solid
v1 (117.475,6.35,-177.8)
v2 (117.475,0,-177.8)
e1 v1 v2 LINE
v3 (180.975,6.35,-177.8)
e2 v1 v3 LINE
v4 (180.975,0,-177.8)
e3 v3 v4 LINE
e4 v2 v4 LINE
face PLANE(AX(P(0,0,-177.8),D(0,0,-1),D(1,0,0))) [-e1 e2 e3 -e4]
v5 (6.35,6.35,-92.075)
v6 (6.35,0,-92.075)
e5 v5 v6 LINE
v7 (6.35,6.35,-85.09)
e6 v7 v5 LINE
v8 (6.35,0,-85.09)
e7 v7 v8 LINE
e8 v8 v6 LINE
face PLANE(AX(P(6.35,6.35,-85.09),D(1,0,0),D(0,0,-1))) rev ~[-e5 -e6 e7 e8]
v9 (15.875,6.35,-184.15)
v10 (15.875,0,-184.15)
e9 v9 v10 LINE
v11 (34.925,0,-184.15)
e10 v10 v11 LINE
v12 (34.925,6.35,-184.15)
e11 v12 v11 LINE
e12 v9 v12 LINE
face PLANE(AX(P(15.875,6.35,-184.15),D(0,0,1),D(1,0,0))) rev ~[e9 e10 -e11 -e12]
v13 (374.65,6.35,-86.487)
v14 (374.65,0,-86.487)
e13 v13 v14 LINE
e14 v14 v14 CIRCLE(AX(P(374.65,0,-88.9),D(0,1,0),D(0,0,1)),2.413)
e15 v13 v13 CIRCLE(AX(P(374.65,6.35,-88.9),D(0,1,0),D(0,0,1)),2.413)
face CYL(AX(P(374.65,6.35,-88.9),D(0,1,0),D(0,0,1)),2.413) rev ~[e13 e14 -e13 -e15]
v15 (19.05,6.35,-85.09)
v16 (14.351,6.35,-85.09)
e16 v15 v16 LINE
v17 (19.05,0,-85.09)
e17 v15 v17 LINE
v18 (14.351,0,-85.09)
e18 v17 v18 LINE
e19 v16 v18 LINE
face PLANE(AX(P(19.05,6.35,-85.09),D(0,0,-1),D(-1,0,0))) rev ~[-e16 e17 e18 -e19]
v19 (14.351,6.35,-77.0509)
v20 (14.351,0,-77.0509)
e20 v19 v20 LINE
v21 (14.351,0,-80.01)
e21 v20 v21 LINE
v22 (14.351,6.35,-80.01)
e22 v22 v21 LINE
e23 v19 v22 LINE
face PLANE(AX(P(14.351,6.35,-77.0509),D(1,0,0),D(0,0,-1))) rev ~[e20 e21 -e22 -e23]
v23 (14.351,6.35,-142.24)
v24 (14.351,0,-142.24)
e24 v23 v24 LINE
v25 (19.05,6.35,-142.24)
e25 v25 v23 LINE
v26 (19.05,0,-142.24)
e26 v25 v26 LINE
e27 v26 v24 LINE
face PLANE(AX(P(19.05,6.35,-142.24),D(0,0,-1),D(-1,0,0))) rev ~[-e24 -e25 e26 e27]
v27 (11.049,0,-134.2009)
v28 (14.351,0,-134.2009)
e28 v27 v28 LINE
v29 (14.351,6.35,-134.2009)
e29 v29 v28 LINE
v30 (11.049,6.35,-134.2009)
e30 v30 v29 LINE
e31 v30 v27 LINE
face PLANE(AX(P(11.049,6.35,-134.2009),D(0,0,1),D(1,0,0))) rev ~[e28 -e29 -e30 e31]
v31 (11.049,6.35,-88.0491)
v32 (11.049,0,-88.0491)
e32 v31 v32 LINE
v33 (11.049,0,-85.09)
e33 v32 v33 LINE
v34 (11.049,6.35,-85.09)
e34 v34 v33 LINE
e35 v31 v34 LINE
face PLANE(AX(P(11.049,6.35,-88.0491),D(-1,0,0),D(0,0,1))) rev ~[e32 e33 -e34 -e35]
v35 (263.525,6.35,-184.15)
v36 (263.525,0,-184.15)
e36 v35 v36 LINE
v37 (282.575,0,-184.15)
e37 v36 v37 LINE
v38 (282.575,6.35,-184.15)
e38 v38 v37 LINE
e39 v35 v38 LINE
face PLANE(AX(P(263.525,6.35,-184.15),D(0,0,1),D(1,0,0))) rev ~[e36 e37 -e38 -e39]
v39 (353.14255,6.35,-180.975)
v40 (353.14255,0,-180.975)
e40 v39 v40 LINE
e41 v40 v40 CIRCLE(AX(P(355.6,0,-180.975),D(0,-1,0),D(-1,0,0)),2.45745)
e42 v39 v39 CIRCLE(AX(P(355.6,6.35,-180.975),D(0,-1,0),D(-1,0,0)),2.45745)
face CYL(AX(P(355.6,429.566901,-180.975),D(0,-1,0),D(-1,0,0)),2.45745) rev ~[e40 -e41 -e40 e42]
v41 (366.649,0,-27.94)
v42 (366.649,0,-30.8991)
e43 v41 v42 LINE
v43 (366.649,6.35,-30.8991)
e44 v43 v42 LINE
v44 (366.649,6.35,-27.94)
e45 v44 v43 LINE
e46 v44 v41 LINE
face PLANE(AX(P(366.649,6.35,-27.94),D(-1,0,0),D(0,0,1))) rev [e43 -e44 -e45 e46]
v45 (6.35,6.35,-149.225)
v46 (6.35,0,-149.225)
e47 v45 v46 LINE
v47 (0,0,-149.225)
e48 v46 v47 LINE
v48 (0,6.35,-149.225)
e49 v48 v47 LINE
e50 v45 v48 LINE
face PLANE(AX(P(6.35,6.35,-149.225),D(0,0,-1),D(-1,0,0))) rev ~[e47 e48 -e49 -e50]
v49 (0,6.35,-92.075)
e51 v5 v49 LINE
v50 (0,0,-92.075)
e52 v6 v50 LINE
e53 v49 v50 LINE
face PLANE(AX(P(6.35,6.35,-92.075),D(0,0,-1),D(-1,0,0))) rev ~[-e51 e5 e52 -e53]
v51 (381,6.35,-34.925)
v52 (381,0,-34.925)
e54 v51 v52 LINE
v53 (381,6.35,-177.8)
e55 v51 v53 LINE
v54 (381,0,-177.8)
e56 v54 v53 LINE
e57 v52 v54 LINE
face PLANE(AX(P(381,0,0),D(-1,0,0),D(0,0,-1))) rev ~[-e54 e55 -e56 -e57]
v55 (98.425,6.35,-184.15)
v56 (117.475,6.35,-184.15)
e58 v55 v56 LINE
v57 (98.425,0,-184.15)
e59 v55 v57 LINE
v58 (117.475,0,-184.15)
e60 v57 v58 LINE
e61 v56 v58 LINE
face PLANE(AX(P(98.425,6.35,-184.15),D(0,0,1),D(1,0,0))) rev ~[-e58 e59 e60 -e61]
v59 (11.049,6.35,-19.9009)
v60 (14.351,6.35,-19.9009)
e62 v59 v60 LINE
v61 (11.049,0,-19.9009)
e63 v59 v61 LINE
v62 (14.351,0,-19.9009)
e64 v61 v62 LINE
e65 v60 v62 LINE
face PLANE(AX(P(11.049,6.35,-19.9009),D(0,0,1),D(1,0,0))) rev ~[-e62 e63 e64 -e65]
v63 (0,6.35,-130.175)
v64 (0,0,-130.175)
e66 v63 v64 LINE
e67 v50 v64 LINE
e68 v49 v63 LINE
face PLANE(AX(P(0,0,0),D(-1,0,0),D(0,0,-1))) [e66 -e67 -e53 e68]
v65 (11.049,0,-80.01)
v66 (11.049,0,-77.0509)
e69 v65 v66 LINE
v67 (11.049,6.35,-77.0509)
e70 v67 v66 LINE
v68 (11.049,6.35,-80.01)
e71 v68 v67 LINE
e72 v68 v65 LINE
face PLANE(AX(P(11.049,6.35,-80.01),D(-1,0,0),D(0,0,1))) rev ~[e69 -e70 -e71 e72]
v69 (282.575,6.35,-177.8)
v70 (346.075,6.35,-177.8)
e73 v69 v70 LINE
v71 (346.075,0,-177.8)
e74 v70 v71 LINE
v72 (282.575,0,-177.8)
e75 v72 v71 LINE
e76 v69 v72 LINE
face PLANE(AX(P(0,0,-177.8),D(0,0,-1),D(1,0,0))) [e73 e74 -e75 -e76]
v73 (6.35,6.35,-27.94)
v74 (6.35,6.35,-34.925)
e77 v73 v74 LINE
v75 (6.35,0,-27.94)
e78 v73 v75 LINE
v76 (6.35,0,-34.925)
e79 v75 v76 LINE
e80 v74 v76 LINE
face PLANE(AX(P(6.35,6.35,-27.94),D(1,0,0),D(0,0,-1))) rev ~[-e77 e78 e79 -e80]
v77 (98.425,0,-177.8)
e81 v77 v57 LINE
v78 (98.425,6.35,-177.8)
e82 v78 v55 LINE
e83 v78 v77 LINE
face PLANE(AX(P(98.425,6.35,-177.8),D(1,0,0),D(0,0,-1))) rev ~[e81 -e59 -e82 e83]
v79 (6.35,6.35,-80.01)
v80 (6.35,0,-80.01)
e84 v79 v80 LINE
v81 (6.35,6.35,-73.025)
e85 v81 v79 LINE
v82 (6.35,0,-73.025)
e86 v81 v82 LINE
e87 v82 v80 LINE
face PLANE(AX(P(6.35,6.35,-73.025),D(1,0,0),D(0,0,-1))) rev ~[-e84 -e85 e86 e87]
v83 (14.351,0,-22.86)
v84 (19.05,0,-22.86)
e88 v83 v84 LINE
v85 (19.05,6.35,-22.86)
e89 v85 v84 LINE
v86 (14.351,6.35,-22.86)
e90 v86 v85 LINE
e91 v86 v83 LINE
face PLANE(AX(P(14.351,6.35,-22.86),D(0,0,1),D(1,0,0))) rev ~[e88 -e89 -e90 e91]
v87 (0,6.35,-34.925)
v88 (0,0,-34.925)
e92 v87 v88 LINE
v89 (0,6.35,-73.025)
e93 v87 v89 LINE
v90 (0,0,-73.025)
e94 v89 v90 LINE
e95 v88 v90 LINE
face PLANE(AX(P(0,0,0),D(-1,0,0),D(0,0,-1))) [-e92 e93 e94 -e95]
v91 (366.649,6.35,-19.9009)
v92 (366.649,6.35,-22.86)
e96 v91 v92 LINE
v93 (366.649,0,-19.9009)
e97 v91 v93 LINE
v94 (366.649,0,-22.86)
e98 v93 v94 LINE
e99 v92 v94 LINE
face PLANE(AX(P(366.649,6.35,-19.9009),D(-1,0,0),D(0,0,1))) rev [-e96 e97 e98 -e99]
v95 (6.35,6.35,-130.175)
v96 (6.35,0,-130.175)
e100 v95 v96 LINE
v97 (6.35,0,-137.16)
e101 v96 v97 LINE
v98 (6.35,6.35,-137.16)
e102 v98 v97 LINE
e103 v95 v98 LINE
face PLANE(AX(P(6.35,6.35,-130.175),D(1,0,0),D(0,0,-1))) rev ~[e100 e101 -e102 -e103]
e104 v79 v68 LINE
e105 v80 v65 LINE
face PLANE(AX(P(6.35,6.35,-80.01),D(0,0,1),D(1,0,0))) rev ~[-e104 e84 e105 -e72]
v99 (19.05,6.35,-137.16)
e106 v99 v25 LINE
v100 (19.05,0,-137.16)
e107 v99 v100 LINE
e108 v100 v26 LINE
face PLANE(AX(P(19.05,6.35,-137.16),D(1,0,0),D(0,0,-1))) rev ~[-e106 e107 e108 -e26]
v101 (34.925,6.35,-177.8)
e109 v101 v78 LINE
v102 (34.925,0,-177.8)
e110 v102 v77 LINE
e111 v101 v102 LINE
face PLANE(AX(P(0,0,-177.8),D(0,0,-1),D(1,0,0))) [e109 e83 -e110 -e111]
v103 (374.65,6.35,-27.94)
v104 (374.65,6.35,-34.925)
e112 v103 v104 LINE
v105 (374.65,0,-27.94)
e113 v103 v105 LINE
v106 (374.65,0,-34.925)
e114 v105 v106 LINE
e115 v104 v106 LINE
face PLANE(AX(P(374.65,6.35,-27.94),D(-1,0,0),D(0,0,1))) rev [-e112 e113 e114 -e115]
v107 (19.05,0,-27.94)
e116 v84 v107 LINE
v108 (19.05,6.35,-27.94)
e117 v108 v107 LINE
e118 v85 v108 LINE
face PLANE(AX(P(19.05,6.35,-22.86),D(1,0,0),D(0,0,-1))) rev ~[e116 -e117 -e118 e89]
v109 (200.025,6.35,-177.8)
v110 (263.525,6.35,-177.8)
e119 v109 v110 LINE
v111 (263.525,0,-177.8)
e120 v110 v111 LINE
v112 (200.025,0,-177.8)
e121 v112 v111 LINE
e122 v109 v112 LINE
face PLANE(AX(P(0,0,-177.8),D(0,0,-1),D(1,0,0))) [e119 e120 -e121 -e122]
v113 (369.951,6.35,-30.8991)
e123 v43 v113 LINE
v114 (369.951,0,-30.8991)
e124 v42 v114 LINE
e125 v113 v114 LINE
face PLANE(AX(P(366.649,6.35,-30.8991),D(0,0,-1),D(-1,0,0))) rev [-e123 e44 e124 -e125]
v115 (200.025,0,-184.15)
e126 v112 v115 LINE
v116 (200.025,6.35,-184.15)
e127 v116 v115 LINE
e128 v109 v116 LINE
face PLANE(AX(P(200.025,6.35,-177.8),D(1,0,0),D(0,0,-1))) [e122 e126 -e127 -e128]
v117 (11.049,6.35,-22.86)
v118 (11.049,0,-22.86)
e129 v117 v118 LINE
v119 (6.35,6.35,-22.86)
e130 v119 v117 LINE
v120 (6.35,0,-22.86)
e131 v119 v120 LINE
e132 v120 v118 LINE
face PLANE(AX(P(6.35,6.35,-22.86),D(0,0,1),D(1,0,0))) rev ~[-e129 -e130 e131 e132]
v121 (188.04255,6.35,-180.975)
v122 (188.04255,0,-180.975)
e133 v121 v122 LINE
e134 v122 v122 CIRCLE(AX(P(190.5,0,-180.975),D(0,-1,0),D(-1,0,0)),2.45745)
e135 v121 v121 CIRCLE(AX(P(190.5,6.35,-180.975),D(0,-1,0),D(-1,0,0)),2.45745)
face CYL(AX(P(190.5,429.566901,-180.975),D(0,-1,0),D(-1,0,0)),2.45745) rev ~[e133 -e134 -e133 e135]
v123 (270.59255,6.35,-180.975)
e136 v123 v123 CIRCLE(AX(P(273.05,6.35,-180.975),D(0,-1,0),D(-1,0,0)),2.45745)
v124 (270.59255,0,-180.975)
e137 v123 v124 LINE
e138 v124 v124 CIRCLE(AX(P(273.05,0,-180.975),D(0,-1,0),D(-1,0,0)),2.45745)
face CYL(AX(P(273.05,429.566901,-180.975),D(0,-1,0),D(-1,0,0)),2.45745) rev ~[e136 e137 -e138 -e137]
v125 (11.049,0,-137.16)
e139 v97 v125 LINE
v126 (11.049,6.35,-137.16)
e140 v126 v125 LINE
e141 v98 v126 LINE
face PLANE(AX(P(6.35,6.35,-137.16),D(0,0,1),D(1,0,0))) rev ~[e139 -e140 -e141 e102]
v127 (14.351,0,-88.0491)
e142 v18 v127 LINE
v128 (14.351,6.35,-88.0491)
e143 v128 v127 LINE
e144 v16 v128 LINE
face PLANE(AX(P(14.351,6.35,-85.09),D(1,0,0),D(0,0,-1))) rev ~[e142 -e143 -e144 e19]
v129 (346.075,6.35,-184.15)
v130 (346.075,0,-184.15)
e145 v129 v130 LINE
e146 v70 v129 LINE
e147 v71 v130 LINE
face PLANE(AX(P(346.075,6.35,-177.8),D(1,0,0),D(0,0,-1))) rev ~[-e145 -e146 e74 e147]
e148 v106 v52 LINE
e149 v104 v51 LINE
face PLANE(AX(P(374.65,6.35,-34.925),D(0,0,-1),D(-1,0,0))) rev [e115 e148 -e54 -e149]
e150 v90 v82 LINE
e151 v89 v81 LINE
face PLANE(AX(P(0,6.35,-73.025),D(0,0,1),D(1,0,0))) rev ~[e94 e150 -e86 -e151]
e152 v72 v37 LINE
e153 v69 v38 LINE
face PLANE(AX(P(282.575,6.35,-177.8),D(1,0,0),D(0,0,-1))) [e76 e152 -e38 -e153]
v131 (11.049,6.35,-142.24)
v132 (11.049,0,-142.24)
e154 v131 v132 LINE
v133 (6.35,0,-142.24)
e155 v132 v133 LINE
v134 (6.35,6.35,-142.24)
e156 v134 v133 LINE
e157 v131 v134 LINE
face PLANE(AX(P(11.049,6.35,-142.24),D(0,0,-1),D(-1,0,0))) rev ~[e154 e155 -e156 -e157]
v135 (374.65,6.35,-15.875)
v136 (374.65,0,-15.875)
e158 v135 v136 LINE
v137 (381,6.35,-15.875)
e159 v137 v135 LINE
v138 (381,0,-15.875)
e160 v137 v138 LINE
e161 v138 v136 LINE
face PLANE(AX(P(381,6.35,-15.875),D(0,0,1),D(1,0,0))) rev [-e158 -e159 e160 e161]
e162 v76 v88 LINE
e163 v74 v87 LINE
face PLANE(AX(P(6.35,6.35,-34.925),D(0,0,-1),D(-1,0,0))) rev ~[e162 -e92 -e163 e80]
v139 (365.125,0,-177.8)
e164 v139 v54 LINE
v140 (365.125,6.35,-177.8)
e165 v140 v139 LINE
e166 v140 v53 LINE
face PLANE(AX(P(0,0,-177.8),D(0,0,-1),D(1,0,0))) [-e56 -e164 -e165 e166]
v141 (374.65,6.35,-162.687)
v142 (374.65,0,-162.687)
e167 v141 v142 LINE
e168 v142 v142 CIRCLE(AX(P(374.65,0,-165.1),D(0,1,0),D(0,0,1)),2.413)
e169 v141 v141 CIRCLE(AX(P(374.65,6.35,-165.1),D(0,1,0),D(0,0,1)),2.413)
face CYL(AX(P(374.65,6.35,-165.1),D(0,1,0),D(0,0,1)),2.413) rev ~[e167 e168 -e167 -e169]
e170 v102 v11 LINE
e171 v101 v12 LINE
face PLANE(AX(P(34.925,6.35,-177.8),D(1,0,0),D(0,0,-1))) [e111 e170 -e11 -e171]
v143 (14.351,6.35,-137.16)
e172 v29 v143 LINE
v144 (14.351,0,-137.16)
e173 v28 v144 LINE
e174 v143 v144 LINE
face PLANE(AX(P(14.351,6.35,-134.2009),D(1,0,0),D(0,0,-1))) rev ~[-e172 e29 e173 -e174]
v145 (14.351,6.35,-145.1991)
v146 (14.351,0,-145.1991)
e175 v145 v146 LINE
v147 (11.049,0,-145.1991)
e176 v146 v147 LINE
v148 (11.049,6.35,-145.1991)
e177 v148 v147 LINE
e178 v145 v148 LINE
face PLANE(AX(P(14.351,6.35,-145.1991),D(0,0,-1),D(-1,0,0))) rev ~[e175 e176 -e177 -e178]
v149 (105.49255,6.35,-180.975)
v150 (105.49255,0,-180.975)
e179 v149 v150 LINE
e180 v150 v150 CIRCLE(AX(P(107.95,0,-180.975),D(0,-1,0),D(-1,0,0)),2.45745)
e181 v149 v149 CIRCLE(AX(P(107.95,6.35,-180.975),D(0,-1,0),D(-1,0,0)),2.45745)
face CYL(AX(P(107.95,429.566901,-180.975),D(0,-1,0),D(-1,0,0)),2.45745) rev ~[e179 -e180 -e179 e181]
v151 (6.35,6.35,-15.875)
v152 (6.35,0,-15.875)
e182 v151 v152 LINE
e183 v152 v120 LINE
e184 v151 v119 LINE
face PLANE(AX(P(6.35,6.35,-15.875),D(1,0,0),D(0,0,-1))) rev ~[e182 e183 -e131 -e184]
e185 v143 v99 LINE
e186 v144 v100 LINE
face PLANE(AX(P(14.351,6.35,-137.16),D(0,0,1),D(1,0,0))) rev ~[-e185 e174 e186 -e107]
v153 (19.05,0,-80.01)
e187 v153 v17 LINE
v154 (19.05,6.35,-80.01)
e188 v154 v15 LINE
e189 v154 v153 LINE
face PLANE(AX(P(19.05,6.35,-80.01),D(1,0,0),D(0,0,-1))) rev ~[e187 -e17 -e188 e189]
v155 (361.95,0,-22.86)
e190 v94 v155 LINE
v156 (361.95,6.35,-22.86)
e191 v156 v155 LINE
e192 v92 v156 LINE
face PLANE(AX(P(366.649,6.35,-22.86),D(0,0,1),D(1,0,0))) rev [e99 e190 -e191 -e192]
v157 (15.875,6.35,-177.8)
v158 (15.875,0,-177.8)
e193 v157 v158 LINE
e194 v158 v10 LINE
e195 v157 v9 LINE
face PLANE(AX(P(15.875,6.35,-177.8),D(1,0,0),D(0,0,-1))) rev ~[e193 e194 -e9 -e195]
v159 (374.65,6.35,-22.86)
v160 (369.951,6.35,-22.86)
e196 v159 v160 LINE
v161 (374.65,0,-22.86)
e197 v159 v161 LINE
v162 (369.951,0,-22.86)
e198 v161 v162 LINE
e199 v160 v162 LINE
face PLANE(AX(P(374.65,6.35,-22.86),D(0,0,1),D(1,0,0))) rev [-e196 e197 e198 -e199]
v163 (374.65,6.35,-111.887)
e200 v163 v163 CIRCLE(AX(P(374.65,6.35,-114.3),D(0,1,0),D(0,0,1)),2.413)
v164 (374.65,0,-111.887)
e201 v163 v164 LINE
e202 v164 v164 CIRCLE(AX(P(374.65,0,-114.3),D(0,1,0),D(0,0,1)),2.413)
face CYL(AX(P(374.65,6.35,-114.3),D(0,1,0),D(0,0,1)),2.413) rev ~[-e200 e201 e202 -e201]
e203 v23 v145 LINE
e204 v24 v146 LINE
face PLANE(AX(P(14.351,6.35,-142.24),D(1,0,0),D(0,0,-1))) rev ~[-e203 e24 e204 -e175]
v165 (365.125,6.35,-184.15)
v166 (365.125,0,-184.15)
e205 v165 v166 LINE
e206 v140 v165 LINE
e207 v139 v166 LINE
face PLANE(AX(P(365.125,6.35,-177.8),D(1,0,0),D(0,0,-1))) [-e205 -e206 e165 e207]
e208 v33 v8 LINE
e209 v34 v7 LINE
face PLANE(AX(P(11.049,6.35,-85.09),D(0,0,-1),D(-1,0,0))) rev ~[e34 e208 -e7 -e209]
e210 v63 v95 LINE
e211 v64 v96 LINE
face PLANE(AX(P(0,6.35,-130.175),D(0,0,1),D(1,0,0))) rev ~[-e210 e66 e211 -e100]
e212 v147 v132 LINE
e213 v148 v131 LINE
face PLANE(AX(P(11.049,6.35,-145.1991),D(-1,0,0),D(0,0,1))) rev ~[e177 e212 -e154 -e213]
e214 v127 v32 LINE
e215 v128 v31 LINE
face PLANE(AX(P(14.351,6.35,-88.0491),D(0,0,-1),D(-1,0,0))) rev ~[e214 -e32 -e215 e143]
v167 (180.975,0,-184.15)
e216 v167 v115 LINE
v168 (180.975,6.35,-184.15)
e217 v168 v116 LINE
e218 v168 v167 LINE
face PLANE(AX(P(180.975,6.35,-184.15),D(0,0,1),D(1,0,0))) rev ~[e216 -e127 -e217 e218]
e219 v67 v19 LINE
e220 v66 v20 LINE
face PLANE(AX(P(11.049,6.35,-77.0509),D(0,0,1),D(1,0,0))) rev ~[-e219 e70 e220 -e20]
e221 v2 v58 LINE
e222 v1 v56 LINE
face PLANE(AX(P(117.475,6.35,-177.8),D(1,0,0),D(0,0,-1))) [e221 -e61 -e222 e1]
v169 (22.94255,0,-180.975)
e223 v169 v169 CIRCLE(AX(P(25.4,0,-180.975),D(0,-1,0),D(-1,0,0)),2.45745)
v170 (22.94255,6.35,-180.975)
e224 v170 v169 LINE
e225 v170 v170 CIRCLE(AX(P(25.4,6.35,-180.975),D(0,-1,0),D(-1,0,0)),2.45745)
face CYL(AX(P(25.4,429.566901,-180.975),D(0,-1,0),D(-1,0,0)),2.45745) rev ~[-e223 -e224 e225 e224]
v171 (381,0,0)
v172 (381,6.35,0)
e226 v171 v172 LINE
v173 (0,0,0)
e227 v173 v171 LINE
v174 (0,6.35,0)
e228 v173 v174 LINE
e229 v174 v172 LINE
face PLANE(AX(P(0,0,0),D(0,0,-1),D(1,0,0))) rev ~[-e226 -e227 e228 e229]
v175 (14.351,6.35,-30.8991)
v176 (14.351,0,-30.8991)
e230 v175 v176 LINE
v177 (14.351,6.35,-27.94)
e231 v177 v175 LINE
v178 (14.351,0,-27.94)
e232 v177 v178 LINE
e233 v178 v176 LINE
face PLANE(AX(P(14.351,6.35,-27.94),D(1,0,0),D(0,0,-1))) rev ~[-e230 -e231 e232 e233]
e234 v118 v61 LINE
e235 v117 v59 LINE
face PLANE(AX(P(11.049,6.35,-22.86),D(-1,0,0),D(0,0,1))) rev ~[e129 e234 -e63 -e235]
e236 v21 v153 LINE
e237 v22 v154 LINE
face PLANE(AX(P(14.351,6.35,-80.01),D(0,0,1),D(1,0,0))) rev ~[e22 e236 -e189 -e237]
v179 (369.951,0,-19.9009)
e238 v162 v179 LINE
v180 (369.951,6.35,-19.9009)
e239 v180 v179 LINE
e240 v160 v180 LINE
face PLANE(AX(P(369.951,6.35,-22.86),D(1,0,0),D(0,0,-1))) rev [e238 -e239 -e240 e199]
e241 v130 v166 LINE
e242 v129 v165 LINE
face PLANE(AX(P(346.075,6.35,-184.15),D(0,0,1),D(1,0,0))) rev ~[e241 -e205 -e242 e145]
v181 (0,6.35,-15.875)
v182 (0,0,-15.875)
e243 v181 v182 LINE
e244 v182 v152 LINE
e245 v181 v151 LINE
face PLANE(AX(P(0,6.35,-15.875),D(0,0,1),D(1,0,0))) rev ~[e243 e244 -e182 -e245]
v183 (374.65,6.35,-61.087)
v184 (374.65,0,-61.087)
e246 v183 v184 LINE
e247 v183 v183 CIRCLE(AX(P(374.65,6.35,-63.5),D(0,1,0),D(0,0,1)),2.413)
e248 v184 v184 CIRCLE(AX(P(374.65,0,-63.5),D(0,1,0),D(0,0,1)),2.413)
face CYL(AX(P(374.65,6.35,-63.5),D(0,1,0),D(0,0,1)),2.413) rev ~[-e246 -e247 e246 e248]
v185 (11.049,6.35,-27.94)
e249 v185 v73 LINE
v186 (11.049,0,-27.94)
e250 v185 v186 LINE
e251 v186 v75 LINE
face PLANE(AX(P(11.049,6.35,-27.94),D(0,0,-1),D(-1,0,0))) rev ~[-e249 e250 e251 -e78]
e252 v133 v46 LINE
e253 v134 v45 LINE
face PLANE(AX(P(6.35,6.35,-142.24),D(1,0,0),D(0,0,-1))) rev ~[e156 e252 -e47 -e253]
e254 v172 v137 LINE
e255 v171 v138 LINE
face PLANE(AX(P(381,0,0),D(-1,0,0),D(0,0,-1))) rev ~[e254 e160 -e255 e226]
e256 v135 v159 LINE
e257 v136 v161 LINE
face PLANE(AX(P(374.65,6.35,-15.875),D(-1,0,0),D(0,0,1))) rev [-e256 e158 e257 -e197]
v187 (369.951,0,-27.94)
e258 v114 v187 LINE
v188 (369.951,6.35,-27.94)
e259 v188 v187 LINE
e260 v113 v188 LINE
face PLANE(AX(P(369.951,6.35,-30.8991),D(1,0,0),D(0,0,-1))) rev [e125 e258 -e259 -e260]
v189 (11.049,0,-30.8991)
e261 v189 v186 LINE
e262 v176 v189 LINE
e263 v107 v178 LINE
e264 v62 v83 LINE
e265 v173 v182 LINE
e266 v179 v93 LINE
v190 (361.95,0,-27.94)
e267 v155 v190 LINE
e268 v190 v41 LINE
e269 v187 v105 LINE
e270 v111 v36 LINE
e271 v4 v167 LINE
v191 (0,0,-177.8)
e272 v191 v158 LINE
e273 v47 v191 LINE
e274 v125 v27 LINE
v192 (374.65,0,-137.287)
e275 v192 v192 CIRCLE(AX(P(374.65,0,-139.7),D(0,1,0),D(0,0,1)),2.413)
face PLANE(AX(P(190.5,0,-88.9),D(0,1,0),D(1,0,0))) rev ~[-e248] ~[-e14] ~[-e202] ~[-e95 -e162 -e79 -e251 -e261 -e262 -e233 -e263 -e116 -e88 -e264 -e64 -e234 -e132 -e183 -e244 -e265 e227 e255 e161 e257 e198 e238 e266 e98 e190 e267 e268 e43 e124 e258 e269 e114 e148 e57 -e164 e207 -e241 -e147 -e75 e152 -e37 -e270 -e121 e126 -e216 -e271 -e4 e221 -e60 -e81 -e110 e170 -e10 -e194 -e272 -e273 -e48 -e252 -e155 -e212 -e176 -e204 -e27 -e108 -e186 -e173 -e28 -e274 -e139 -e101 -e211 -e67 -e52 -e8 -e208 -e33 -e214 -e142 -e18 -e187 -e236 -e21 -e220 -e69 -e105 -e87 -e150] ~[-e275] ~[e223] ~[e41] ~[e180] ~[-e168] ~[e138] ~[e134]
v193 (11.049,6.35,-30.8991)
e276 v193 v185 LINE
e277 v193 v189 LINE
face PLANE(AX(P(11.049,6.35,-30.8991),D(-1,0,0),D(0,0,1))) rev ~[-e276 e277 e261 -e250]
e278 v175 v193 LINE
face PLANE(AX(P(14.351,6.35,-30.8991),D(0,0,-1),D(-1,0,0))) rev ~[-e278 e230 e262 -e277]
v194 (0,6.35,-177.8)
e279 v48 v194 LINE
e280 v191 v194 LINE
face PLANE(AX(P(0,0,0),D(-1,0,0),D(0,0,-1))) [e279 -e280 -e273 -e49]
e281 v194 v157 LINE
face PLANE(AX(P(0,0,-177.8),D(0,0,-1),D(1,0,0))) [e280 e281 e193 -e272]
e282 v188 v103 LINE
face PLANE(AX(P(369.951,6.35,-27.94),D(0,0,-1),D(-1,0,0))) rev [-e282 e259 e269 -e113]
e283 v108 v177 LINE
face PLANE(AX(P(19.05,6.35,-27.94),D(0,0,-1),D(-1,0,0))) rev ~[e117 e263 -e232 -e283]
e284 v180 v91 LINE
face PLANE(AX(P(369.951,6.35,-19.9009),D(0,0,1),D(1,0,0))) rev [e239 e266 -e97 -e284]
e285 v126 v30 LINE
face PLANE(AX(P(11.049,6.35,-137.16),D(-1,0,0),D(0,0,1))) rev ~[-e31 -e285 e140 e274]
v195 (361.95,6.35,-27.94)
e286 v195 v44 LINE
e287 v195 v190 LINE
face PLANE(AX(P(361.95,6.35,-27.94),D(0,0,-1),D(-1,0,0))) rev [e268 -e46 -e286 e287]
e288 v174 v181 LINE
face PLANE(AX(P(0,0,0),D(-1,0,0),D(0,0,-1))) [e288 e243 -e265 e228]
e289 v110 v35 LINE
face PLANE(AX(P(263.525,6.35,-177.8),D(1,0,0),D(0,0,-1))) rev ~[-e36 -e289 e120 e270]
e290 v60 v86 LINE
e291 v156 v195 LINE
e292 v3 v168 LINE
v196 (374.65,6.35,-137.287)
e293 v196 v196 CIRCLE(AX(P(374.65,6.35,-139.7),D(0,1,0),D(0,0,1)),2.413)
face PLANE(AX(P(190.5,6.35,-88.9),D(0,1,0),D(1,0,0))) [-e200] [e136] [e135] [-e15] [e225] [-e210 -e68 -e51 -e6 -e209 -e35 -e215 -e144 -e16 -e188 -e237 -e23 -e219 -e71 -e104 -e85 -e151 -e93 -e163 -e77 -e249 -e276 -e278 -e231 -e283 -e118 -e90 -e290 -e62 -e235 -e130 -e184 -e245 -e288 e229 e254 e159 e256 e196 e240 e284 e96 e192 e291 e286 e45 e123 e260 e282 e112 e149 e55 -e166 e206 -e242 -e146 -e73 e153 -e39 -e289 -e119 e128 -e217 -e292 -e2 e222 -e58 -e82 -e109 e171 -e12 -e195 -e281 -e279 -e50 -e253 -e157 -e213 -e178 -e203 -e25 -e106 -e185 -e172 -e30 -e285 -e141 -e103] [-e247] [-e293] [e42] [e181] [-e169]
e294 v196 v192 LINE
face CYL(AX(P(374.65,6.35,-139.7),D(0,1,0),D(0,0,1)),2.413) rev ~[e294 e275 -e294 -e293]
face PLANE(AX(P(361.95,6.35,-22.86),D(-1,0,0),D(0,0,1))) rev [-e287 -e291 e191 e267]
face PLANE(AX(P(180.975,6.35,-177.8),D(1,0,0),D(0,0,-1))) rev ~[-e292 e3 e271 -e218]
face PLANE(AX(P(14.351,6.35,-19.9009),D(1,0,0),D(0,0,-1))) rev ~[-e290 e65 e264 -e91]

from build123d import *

# Parameters (mm, degrees)
SKETCH1_W                    = 381
SKETCH1_H                    = 177.8
BOSS_EXTRUDE1_DEPTH          = 6.35
SKETCH2_W                    = 19.05
SKETCH2_H                    = 6.35
BOSS_EXTRUDE2_DEPTH          = 6.35
F_10_0_1935_DIAMETER_HOLE1_D = 4.9149
LPATTERN1_COUNT              = 5
LPATTERN1_PITCH              = 82.55
CUT_EXTRUDE2_DEPTH           = 424.216900655
LPATTERN4_COUNT              = 3
LPATTERN4_PITCH              = 57.15
SKETCH8_R                    = 2.413
CUT_EXTRUDE3_DEPTH           = 424.216900655


with BuildPart() as part:
    # Sketch1 → Boss-Extrude1 (new body)
    with BuildSketch(Plane(origin=(0, 0, 0), x_dir=(1, 0, 0), z_dir=(0, 1, 0))):
        with Locations((190.5, 88.9)):
            Rectangle(SKETCH1_W, SKETCH1_H)
    extrude(amount=BOSS_EXTRUDE1_DEPTH)

    # Sketch2 → Boss-Extrude2 (add)
    with BuildSketch(Plane(origin=(0, 6.35, 0), x_dir=(1, 0, 0), z_dir=(0, 1, 0))):
        with Locations((25.4, 180.975)):
            Rectangle(SKETCH2_W, SKETCH2_H)
    boss_extrude2 = extrude(amount=-BOSS_EXTRUDE2_DEPTH)

    # #10 (0.1935) Diameter Hole1 (through all)
    with Locations(Plane(origin=(0, 6.35, 0), x_dir=(1, 0, 0), z_dir=(0, 1, 0))):
        with Locations((25.4, 180.975)):
            f_10_0_1935_diameter_hole1 = Hole(F_10_0_1935_DIAMETER_HOLE1_D / 2)

    # LPattern1: Boss-Extrude2, #10 (0.1935) Diameter Hole1 ×5
    with Locations(*[(i * LPATTERN1_PITCH, 0, 0) for i in range(1, LPATTERN1_COUNT)]):
        add(boss_extrude2)
        add(f_10_0_1935_diameter_hole1, mode=Mode.SUBTRACT)

    # Sketch7 → Cut-Extrude2 (cut, through all)
    with BuildSketch(Plane(origin=(0, 6.35, 0), x_dir=(1, 0, 0), z_dir=(0, 1, 0))):
        Polygon((0, 34.925), (0, 15.875), (6.35, 15.875), (6.35, 22.86), (11.049, 22.86), (11.049, 19.9009), (14.351, 19.9009), (14.351, 22.86), (19.05, 22.86), (19.05, 27.94), (14.351, 27.94), (14.351, 30.8991), (11.049, 30.8991), (11.049, 27.94), (6.35, 27.94), (6.35, 34.925), align=None)
    cut_extrude2 = extrude(amount=-CUT_EXTRUDE2_DEPTH, mode=Mode.SUBTRACT)

    # Mirror2: Cut-Extrude2 across plane
    add(cut_extrude2.mirror(Plane.ZY.offset(-190.5)), mode=Mode.SUBTRACT)

    # LPattern4: Cut-Extrude2 ×3
    with Locations(*[(0, 0, -i * LPATTERN4_PITCH) for i in range(1, LPATTERN4_COUNT)]):
        add(cut_extrude2, mode=Mode.SUBTRACT)

    # Sketch8 → Cut-Extrude3 (cut, through all)
    with BuildSketch(Plane(origin=(0, 6.35, 0), x_dir=(1, 0, 0), z_dir=(0, 1, 0))):
        with Locations(Location((374.65, 165.1, 0), (0, 0, 270))):
            Circle(SKETCH8_R)
        with Locations(Location((374.65, 139.7, 0), (0, 0, 270))):
            Circle(SKETCH8_R)
        with Locations(Location((374.65, 114.3, 0), (0, 0, 270))):
            Circle(SKETCH8_R)
        with Locations(Location((374.65, 88.9, 0), (0, 0, 270))):
            Circle(SKETCH8_R)
        with Locations(Location((374.65, 63.5, 0), (0, 0, 270))):
            Circle(SKETCH8_R)
    extrude(amount=-CUT_EXTRUDE3_DEPTH, mode=Mode.SUBTRACT)


solid = part.part
